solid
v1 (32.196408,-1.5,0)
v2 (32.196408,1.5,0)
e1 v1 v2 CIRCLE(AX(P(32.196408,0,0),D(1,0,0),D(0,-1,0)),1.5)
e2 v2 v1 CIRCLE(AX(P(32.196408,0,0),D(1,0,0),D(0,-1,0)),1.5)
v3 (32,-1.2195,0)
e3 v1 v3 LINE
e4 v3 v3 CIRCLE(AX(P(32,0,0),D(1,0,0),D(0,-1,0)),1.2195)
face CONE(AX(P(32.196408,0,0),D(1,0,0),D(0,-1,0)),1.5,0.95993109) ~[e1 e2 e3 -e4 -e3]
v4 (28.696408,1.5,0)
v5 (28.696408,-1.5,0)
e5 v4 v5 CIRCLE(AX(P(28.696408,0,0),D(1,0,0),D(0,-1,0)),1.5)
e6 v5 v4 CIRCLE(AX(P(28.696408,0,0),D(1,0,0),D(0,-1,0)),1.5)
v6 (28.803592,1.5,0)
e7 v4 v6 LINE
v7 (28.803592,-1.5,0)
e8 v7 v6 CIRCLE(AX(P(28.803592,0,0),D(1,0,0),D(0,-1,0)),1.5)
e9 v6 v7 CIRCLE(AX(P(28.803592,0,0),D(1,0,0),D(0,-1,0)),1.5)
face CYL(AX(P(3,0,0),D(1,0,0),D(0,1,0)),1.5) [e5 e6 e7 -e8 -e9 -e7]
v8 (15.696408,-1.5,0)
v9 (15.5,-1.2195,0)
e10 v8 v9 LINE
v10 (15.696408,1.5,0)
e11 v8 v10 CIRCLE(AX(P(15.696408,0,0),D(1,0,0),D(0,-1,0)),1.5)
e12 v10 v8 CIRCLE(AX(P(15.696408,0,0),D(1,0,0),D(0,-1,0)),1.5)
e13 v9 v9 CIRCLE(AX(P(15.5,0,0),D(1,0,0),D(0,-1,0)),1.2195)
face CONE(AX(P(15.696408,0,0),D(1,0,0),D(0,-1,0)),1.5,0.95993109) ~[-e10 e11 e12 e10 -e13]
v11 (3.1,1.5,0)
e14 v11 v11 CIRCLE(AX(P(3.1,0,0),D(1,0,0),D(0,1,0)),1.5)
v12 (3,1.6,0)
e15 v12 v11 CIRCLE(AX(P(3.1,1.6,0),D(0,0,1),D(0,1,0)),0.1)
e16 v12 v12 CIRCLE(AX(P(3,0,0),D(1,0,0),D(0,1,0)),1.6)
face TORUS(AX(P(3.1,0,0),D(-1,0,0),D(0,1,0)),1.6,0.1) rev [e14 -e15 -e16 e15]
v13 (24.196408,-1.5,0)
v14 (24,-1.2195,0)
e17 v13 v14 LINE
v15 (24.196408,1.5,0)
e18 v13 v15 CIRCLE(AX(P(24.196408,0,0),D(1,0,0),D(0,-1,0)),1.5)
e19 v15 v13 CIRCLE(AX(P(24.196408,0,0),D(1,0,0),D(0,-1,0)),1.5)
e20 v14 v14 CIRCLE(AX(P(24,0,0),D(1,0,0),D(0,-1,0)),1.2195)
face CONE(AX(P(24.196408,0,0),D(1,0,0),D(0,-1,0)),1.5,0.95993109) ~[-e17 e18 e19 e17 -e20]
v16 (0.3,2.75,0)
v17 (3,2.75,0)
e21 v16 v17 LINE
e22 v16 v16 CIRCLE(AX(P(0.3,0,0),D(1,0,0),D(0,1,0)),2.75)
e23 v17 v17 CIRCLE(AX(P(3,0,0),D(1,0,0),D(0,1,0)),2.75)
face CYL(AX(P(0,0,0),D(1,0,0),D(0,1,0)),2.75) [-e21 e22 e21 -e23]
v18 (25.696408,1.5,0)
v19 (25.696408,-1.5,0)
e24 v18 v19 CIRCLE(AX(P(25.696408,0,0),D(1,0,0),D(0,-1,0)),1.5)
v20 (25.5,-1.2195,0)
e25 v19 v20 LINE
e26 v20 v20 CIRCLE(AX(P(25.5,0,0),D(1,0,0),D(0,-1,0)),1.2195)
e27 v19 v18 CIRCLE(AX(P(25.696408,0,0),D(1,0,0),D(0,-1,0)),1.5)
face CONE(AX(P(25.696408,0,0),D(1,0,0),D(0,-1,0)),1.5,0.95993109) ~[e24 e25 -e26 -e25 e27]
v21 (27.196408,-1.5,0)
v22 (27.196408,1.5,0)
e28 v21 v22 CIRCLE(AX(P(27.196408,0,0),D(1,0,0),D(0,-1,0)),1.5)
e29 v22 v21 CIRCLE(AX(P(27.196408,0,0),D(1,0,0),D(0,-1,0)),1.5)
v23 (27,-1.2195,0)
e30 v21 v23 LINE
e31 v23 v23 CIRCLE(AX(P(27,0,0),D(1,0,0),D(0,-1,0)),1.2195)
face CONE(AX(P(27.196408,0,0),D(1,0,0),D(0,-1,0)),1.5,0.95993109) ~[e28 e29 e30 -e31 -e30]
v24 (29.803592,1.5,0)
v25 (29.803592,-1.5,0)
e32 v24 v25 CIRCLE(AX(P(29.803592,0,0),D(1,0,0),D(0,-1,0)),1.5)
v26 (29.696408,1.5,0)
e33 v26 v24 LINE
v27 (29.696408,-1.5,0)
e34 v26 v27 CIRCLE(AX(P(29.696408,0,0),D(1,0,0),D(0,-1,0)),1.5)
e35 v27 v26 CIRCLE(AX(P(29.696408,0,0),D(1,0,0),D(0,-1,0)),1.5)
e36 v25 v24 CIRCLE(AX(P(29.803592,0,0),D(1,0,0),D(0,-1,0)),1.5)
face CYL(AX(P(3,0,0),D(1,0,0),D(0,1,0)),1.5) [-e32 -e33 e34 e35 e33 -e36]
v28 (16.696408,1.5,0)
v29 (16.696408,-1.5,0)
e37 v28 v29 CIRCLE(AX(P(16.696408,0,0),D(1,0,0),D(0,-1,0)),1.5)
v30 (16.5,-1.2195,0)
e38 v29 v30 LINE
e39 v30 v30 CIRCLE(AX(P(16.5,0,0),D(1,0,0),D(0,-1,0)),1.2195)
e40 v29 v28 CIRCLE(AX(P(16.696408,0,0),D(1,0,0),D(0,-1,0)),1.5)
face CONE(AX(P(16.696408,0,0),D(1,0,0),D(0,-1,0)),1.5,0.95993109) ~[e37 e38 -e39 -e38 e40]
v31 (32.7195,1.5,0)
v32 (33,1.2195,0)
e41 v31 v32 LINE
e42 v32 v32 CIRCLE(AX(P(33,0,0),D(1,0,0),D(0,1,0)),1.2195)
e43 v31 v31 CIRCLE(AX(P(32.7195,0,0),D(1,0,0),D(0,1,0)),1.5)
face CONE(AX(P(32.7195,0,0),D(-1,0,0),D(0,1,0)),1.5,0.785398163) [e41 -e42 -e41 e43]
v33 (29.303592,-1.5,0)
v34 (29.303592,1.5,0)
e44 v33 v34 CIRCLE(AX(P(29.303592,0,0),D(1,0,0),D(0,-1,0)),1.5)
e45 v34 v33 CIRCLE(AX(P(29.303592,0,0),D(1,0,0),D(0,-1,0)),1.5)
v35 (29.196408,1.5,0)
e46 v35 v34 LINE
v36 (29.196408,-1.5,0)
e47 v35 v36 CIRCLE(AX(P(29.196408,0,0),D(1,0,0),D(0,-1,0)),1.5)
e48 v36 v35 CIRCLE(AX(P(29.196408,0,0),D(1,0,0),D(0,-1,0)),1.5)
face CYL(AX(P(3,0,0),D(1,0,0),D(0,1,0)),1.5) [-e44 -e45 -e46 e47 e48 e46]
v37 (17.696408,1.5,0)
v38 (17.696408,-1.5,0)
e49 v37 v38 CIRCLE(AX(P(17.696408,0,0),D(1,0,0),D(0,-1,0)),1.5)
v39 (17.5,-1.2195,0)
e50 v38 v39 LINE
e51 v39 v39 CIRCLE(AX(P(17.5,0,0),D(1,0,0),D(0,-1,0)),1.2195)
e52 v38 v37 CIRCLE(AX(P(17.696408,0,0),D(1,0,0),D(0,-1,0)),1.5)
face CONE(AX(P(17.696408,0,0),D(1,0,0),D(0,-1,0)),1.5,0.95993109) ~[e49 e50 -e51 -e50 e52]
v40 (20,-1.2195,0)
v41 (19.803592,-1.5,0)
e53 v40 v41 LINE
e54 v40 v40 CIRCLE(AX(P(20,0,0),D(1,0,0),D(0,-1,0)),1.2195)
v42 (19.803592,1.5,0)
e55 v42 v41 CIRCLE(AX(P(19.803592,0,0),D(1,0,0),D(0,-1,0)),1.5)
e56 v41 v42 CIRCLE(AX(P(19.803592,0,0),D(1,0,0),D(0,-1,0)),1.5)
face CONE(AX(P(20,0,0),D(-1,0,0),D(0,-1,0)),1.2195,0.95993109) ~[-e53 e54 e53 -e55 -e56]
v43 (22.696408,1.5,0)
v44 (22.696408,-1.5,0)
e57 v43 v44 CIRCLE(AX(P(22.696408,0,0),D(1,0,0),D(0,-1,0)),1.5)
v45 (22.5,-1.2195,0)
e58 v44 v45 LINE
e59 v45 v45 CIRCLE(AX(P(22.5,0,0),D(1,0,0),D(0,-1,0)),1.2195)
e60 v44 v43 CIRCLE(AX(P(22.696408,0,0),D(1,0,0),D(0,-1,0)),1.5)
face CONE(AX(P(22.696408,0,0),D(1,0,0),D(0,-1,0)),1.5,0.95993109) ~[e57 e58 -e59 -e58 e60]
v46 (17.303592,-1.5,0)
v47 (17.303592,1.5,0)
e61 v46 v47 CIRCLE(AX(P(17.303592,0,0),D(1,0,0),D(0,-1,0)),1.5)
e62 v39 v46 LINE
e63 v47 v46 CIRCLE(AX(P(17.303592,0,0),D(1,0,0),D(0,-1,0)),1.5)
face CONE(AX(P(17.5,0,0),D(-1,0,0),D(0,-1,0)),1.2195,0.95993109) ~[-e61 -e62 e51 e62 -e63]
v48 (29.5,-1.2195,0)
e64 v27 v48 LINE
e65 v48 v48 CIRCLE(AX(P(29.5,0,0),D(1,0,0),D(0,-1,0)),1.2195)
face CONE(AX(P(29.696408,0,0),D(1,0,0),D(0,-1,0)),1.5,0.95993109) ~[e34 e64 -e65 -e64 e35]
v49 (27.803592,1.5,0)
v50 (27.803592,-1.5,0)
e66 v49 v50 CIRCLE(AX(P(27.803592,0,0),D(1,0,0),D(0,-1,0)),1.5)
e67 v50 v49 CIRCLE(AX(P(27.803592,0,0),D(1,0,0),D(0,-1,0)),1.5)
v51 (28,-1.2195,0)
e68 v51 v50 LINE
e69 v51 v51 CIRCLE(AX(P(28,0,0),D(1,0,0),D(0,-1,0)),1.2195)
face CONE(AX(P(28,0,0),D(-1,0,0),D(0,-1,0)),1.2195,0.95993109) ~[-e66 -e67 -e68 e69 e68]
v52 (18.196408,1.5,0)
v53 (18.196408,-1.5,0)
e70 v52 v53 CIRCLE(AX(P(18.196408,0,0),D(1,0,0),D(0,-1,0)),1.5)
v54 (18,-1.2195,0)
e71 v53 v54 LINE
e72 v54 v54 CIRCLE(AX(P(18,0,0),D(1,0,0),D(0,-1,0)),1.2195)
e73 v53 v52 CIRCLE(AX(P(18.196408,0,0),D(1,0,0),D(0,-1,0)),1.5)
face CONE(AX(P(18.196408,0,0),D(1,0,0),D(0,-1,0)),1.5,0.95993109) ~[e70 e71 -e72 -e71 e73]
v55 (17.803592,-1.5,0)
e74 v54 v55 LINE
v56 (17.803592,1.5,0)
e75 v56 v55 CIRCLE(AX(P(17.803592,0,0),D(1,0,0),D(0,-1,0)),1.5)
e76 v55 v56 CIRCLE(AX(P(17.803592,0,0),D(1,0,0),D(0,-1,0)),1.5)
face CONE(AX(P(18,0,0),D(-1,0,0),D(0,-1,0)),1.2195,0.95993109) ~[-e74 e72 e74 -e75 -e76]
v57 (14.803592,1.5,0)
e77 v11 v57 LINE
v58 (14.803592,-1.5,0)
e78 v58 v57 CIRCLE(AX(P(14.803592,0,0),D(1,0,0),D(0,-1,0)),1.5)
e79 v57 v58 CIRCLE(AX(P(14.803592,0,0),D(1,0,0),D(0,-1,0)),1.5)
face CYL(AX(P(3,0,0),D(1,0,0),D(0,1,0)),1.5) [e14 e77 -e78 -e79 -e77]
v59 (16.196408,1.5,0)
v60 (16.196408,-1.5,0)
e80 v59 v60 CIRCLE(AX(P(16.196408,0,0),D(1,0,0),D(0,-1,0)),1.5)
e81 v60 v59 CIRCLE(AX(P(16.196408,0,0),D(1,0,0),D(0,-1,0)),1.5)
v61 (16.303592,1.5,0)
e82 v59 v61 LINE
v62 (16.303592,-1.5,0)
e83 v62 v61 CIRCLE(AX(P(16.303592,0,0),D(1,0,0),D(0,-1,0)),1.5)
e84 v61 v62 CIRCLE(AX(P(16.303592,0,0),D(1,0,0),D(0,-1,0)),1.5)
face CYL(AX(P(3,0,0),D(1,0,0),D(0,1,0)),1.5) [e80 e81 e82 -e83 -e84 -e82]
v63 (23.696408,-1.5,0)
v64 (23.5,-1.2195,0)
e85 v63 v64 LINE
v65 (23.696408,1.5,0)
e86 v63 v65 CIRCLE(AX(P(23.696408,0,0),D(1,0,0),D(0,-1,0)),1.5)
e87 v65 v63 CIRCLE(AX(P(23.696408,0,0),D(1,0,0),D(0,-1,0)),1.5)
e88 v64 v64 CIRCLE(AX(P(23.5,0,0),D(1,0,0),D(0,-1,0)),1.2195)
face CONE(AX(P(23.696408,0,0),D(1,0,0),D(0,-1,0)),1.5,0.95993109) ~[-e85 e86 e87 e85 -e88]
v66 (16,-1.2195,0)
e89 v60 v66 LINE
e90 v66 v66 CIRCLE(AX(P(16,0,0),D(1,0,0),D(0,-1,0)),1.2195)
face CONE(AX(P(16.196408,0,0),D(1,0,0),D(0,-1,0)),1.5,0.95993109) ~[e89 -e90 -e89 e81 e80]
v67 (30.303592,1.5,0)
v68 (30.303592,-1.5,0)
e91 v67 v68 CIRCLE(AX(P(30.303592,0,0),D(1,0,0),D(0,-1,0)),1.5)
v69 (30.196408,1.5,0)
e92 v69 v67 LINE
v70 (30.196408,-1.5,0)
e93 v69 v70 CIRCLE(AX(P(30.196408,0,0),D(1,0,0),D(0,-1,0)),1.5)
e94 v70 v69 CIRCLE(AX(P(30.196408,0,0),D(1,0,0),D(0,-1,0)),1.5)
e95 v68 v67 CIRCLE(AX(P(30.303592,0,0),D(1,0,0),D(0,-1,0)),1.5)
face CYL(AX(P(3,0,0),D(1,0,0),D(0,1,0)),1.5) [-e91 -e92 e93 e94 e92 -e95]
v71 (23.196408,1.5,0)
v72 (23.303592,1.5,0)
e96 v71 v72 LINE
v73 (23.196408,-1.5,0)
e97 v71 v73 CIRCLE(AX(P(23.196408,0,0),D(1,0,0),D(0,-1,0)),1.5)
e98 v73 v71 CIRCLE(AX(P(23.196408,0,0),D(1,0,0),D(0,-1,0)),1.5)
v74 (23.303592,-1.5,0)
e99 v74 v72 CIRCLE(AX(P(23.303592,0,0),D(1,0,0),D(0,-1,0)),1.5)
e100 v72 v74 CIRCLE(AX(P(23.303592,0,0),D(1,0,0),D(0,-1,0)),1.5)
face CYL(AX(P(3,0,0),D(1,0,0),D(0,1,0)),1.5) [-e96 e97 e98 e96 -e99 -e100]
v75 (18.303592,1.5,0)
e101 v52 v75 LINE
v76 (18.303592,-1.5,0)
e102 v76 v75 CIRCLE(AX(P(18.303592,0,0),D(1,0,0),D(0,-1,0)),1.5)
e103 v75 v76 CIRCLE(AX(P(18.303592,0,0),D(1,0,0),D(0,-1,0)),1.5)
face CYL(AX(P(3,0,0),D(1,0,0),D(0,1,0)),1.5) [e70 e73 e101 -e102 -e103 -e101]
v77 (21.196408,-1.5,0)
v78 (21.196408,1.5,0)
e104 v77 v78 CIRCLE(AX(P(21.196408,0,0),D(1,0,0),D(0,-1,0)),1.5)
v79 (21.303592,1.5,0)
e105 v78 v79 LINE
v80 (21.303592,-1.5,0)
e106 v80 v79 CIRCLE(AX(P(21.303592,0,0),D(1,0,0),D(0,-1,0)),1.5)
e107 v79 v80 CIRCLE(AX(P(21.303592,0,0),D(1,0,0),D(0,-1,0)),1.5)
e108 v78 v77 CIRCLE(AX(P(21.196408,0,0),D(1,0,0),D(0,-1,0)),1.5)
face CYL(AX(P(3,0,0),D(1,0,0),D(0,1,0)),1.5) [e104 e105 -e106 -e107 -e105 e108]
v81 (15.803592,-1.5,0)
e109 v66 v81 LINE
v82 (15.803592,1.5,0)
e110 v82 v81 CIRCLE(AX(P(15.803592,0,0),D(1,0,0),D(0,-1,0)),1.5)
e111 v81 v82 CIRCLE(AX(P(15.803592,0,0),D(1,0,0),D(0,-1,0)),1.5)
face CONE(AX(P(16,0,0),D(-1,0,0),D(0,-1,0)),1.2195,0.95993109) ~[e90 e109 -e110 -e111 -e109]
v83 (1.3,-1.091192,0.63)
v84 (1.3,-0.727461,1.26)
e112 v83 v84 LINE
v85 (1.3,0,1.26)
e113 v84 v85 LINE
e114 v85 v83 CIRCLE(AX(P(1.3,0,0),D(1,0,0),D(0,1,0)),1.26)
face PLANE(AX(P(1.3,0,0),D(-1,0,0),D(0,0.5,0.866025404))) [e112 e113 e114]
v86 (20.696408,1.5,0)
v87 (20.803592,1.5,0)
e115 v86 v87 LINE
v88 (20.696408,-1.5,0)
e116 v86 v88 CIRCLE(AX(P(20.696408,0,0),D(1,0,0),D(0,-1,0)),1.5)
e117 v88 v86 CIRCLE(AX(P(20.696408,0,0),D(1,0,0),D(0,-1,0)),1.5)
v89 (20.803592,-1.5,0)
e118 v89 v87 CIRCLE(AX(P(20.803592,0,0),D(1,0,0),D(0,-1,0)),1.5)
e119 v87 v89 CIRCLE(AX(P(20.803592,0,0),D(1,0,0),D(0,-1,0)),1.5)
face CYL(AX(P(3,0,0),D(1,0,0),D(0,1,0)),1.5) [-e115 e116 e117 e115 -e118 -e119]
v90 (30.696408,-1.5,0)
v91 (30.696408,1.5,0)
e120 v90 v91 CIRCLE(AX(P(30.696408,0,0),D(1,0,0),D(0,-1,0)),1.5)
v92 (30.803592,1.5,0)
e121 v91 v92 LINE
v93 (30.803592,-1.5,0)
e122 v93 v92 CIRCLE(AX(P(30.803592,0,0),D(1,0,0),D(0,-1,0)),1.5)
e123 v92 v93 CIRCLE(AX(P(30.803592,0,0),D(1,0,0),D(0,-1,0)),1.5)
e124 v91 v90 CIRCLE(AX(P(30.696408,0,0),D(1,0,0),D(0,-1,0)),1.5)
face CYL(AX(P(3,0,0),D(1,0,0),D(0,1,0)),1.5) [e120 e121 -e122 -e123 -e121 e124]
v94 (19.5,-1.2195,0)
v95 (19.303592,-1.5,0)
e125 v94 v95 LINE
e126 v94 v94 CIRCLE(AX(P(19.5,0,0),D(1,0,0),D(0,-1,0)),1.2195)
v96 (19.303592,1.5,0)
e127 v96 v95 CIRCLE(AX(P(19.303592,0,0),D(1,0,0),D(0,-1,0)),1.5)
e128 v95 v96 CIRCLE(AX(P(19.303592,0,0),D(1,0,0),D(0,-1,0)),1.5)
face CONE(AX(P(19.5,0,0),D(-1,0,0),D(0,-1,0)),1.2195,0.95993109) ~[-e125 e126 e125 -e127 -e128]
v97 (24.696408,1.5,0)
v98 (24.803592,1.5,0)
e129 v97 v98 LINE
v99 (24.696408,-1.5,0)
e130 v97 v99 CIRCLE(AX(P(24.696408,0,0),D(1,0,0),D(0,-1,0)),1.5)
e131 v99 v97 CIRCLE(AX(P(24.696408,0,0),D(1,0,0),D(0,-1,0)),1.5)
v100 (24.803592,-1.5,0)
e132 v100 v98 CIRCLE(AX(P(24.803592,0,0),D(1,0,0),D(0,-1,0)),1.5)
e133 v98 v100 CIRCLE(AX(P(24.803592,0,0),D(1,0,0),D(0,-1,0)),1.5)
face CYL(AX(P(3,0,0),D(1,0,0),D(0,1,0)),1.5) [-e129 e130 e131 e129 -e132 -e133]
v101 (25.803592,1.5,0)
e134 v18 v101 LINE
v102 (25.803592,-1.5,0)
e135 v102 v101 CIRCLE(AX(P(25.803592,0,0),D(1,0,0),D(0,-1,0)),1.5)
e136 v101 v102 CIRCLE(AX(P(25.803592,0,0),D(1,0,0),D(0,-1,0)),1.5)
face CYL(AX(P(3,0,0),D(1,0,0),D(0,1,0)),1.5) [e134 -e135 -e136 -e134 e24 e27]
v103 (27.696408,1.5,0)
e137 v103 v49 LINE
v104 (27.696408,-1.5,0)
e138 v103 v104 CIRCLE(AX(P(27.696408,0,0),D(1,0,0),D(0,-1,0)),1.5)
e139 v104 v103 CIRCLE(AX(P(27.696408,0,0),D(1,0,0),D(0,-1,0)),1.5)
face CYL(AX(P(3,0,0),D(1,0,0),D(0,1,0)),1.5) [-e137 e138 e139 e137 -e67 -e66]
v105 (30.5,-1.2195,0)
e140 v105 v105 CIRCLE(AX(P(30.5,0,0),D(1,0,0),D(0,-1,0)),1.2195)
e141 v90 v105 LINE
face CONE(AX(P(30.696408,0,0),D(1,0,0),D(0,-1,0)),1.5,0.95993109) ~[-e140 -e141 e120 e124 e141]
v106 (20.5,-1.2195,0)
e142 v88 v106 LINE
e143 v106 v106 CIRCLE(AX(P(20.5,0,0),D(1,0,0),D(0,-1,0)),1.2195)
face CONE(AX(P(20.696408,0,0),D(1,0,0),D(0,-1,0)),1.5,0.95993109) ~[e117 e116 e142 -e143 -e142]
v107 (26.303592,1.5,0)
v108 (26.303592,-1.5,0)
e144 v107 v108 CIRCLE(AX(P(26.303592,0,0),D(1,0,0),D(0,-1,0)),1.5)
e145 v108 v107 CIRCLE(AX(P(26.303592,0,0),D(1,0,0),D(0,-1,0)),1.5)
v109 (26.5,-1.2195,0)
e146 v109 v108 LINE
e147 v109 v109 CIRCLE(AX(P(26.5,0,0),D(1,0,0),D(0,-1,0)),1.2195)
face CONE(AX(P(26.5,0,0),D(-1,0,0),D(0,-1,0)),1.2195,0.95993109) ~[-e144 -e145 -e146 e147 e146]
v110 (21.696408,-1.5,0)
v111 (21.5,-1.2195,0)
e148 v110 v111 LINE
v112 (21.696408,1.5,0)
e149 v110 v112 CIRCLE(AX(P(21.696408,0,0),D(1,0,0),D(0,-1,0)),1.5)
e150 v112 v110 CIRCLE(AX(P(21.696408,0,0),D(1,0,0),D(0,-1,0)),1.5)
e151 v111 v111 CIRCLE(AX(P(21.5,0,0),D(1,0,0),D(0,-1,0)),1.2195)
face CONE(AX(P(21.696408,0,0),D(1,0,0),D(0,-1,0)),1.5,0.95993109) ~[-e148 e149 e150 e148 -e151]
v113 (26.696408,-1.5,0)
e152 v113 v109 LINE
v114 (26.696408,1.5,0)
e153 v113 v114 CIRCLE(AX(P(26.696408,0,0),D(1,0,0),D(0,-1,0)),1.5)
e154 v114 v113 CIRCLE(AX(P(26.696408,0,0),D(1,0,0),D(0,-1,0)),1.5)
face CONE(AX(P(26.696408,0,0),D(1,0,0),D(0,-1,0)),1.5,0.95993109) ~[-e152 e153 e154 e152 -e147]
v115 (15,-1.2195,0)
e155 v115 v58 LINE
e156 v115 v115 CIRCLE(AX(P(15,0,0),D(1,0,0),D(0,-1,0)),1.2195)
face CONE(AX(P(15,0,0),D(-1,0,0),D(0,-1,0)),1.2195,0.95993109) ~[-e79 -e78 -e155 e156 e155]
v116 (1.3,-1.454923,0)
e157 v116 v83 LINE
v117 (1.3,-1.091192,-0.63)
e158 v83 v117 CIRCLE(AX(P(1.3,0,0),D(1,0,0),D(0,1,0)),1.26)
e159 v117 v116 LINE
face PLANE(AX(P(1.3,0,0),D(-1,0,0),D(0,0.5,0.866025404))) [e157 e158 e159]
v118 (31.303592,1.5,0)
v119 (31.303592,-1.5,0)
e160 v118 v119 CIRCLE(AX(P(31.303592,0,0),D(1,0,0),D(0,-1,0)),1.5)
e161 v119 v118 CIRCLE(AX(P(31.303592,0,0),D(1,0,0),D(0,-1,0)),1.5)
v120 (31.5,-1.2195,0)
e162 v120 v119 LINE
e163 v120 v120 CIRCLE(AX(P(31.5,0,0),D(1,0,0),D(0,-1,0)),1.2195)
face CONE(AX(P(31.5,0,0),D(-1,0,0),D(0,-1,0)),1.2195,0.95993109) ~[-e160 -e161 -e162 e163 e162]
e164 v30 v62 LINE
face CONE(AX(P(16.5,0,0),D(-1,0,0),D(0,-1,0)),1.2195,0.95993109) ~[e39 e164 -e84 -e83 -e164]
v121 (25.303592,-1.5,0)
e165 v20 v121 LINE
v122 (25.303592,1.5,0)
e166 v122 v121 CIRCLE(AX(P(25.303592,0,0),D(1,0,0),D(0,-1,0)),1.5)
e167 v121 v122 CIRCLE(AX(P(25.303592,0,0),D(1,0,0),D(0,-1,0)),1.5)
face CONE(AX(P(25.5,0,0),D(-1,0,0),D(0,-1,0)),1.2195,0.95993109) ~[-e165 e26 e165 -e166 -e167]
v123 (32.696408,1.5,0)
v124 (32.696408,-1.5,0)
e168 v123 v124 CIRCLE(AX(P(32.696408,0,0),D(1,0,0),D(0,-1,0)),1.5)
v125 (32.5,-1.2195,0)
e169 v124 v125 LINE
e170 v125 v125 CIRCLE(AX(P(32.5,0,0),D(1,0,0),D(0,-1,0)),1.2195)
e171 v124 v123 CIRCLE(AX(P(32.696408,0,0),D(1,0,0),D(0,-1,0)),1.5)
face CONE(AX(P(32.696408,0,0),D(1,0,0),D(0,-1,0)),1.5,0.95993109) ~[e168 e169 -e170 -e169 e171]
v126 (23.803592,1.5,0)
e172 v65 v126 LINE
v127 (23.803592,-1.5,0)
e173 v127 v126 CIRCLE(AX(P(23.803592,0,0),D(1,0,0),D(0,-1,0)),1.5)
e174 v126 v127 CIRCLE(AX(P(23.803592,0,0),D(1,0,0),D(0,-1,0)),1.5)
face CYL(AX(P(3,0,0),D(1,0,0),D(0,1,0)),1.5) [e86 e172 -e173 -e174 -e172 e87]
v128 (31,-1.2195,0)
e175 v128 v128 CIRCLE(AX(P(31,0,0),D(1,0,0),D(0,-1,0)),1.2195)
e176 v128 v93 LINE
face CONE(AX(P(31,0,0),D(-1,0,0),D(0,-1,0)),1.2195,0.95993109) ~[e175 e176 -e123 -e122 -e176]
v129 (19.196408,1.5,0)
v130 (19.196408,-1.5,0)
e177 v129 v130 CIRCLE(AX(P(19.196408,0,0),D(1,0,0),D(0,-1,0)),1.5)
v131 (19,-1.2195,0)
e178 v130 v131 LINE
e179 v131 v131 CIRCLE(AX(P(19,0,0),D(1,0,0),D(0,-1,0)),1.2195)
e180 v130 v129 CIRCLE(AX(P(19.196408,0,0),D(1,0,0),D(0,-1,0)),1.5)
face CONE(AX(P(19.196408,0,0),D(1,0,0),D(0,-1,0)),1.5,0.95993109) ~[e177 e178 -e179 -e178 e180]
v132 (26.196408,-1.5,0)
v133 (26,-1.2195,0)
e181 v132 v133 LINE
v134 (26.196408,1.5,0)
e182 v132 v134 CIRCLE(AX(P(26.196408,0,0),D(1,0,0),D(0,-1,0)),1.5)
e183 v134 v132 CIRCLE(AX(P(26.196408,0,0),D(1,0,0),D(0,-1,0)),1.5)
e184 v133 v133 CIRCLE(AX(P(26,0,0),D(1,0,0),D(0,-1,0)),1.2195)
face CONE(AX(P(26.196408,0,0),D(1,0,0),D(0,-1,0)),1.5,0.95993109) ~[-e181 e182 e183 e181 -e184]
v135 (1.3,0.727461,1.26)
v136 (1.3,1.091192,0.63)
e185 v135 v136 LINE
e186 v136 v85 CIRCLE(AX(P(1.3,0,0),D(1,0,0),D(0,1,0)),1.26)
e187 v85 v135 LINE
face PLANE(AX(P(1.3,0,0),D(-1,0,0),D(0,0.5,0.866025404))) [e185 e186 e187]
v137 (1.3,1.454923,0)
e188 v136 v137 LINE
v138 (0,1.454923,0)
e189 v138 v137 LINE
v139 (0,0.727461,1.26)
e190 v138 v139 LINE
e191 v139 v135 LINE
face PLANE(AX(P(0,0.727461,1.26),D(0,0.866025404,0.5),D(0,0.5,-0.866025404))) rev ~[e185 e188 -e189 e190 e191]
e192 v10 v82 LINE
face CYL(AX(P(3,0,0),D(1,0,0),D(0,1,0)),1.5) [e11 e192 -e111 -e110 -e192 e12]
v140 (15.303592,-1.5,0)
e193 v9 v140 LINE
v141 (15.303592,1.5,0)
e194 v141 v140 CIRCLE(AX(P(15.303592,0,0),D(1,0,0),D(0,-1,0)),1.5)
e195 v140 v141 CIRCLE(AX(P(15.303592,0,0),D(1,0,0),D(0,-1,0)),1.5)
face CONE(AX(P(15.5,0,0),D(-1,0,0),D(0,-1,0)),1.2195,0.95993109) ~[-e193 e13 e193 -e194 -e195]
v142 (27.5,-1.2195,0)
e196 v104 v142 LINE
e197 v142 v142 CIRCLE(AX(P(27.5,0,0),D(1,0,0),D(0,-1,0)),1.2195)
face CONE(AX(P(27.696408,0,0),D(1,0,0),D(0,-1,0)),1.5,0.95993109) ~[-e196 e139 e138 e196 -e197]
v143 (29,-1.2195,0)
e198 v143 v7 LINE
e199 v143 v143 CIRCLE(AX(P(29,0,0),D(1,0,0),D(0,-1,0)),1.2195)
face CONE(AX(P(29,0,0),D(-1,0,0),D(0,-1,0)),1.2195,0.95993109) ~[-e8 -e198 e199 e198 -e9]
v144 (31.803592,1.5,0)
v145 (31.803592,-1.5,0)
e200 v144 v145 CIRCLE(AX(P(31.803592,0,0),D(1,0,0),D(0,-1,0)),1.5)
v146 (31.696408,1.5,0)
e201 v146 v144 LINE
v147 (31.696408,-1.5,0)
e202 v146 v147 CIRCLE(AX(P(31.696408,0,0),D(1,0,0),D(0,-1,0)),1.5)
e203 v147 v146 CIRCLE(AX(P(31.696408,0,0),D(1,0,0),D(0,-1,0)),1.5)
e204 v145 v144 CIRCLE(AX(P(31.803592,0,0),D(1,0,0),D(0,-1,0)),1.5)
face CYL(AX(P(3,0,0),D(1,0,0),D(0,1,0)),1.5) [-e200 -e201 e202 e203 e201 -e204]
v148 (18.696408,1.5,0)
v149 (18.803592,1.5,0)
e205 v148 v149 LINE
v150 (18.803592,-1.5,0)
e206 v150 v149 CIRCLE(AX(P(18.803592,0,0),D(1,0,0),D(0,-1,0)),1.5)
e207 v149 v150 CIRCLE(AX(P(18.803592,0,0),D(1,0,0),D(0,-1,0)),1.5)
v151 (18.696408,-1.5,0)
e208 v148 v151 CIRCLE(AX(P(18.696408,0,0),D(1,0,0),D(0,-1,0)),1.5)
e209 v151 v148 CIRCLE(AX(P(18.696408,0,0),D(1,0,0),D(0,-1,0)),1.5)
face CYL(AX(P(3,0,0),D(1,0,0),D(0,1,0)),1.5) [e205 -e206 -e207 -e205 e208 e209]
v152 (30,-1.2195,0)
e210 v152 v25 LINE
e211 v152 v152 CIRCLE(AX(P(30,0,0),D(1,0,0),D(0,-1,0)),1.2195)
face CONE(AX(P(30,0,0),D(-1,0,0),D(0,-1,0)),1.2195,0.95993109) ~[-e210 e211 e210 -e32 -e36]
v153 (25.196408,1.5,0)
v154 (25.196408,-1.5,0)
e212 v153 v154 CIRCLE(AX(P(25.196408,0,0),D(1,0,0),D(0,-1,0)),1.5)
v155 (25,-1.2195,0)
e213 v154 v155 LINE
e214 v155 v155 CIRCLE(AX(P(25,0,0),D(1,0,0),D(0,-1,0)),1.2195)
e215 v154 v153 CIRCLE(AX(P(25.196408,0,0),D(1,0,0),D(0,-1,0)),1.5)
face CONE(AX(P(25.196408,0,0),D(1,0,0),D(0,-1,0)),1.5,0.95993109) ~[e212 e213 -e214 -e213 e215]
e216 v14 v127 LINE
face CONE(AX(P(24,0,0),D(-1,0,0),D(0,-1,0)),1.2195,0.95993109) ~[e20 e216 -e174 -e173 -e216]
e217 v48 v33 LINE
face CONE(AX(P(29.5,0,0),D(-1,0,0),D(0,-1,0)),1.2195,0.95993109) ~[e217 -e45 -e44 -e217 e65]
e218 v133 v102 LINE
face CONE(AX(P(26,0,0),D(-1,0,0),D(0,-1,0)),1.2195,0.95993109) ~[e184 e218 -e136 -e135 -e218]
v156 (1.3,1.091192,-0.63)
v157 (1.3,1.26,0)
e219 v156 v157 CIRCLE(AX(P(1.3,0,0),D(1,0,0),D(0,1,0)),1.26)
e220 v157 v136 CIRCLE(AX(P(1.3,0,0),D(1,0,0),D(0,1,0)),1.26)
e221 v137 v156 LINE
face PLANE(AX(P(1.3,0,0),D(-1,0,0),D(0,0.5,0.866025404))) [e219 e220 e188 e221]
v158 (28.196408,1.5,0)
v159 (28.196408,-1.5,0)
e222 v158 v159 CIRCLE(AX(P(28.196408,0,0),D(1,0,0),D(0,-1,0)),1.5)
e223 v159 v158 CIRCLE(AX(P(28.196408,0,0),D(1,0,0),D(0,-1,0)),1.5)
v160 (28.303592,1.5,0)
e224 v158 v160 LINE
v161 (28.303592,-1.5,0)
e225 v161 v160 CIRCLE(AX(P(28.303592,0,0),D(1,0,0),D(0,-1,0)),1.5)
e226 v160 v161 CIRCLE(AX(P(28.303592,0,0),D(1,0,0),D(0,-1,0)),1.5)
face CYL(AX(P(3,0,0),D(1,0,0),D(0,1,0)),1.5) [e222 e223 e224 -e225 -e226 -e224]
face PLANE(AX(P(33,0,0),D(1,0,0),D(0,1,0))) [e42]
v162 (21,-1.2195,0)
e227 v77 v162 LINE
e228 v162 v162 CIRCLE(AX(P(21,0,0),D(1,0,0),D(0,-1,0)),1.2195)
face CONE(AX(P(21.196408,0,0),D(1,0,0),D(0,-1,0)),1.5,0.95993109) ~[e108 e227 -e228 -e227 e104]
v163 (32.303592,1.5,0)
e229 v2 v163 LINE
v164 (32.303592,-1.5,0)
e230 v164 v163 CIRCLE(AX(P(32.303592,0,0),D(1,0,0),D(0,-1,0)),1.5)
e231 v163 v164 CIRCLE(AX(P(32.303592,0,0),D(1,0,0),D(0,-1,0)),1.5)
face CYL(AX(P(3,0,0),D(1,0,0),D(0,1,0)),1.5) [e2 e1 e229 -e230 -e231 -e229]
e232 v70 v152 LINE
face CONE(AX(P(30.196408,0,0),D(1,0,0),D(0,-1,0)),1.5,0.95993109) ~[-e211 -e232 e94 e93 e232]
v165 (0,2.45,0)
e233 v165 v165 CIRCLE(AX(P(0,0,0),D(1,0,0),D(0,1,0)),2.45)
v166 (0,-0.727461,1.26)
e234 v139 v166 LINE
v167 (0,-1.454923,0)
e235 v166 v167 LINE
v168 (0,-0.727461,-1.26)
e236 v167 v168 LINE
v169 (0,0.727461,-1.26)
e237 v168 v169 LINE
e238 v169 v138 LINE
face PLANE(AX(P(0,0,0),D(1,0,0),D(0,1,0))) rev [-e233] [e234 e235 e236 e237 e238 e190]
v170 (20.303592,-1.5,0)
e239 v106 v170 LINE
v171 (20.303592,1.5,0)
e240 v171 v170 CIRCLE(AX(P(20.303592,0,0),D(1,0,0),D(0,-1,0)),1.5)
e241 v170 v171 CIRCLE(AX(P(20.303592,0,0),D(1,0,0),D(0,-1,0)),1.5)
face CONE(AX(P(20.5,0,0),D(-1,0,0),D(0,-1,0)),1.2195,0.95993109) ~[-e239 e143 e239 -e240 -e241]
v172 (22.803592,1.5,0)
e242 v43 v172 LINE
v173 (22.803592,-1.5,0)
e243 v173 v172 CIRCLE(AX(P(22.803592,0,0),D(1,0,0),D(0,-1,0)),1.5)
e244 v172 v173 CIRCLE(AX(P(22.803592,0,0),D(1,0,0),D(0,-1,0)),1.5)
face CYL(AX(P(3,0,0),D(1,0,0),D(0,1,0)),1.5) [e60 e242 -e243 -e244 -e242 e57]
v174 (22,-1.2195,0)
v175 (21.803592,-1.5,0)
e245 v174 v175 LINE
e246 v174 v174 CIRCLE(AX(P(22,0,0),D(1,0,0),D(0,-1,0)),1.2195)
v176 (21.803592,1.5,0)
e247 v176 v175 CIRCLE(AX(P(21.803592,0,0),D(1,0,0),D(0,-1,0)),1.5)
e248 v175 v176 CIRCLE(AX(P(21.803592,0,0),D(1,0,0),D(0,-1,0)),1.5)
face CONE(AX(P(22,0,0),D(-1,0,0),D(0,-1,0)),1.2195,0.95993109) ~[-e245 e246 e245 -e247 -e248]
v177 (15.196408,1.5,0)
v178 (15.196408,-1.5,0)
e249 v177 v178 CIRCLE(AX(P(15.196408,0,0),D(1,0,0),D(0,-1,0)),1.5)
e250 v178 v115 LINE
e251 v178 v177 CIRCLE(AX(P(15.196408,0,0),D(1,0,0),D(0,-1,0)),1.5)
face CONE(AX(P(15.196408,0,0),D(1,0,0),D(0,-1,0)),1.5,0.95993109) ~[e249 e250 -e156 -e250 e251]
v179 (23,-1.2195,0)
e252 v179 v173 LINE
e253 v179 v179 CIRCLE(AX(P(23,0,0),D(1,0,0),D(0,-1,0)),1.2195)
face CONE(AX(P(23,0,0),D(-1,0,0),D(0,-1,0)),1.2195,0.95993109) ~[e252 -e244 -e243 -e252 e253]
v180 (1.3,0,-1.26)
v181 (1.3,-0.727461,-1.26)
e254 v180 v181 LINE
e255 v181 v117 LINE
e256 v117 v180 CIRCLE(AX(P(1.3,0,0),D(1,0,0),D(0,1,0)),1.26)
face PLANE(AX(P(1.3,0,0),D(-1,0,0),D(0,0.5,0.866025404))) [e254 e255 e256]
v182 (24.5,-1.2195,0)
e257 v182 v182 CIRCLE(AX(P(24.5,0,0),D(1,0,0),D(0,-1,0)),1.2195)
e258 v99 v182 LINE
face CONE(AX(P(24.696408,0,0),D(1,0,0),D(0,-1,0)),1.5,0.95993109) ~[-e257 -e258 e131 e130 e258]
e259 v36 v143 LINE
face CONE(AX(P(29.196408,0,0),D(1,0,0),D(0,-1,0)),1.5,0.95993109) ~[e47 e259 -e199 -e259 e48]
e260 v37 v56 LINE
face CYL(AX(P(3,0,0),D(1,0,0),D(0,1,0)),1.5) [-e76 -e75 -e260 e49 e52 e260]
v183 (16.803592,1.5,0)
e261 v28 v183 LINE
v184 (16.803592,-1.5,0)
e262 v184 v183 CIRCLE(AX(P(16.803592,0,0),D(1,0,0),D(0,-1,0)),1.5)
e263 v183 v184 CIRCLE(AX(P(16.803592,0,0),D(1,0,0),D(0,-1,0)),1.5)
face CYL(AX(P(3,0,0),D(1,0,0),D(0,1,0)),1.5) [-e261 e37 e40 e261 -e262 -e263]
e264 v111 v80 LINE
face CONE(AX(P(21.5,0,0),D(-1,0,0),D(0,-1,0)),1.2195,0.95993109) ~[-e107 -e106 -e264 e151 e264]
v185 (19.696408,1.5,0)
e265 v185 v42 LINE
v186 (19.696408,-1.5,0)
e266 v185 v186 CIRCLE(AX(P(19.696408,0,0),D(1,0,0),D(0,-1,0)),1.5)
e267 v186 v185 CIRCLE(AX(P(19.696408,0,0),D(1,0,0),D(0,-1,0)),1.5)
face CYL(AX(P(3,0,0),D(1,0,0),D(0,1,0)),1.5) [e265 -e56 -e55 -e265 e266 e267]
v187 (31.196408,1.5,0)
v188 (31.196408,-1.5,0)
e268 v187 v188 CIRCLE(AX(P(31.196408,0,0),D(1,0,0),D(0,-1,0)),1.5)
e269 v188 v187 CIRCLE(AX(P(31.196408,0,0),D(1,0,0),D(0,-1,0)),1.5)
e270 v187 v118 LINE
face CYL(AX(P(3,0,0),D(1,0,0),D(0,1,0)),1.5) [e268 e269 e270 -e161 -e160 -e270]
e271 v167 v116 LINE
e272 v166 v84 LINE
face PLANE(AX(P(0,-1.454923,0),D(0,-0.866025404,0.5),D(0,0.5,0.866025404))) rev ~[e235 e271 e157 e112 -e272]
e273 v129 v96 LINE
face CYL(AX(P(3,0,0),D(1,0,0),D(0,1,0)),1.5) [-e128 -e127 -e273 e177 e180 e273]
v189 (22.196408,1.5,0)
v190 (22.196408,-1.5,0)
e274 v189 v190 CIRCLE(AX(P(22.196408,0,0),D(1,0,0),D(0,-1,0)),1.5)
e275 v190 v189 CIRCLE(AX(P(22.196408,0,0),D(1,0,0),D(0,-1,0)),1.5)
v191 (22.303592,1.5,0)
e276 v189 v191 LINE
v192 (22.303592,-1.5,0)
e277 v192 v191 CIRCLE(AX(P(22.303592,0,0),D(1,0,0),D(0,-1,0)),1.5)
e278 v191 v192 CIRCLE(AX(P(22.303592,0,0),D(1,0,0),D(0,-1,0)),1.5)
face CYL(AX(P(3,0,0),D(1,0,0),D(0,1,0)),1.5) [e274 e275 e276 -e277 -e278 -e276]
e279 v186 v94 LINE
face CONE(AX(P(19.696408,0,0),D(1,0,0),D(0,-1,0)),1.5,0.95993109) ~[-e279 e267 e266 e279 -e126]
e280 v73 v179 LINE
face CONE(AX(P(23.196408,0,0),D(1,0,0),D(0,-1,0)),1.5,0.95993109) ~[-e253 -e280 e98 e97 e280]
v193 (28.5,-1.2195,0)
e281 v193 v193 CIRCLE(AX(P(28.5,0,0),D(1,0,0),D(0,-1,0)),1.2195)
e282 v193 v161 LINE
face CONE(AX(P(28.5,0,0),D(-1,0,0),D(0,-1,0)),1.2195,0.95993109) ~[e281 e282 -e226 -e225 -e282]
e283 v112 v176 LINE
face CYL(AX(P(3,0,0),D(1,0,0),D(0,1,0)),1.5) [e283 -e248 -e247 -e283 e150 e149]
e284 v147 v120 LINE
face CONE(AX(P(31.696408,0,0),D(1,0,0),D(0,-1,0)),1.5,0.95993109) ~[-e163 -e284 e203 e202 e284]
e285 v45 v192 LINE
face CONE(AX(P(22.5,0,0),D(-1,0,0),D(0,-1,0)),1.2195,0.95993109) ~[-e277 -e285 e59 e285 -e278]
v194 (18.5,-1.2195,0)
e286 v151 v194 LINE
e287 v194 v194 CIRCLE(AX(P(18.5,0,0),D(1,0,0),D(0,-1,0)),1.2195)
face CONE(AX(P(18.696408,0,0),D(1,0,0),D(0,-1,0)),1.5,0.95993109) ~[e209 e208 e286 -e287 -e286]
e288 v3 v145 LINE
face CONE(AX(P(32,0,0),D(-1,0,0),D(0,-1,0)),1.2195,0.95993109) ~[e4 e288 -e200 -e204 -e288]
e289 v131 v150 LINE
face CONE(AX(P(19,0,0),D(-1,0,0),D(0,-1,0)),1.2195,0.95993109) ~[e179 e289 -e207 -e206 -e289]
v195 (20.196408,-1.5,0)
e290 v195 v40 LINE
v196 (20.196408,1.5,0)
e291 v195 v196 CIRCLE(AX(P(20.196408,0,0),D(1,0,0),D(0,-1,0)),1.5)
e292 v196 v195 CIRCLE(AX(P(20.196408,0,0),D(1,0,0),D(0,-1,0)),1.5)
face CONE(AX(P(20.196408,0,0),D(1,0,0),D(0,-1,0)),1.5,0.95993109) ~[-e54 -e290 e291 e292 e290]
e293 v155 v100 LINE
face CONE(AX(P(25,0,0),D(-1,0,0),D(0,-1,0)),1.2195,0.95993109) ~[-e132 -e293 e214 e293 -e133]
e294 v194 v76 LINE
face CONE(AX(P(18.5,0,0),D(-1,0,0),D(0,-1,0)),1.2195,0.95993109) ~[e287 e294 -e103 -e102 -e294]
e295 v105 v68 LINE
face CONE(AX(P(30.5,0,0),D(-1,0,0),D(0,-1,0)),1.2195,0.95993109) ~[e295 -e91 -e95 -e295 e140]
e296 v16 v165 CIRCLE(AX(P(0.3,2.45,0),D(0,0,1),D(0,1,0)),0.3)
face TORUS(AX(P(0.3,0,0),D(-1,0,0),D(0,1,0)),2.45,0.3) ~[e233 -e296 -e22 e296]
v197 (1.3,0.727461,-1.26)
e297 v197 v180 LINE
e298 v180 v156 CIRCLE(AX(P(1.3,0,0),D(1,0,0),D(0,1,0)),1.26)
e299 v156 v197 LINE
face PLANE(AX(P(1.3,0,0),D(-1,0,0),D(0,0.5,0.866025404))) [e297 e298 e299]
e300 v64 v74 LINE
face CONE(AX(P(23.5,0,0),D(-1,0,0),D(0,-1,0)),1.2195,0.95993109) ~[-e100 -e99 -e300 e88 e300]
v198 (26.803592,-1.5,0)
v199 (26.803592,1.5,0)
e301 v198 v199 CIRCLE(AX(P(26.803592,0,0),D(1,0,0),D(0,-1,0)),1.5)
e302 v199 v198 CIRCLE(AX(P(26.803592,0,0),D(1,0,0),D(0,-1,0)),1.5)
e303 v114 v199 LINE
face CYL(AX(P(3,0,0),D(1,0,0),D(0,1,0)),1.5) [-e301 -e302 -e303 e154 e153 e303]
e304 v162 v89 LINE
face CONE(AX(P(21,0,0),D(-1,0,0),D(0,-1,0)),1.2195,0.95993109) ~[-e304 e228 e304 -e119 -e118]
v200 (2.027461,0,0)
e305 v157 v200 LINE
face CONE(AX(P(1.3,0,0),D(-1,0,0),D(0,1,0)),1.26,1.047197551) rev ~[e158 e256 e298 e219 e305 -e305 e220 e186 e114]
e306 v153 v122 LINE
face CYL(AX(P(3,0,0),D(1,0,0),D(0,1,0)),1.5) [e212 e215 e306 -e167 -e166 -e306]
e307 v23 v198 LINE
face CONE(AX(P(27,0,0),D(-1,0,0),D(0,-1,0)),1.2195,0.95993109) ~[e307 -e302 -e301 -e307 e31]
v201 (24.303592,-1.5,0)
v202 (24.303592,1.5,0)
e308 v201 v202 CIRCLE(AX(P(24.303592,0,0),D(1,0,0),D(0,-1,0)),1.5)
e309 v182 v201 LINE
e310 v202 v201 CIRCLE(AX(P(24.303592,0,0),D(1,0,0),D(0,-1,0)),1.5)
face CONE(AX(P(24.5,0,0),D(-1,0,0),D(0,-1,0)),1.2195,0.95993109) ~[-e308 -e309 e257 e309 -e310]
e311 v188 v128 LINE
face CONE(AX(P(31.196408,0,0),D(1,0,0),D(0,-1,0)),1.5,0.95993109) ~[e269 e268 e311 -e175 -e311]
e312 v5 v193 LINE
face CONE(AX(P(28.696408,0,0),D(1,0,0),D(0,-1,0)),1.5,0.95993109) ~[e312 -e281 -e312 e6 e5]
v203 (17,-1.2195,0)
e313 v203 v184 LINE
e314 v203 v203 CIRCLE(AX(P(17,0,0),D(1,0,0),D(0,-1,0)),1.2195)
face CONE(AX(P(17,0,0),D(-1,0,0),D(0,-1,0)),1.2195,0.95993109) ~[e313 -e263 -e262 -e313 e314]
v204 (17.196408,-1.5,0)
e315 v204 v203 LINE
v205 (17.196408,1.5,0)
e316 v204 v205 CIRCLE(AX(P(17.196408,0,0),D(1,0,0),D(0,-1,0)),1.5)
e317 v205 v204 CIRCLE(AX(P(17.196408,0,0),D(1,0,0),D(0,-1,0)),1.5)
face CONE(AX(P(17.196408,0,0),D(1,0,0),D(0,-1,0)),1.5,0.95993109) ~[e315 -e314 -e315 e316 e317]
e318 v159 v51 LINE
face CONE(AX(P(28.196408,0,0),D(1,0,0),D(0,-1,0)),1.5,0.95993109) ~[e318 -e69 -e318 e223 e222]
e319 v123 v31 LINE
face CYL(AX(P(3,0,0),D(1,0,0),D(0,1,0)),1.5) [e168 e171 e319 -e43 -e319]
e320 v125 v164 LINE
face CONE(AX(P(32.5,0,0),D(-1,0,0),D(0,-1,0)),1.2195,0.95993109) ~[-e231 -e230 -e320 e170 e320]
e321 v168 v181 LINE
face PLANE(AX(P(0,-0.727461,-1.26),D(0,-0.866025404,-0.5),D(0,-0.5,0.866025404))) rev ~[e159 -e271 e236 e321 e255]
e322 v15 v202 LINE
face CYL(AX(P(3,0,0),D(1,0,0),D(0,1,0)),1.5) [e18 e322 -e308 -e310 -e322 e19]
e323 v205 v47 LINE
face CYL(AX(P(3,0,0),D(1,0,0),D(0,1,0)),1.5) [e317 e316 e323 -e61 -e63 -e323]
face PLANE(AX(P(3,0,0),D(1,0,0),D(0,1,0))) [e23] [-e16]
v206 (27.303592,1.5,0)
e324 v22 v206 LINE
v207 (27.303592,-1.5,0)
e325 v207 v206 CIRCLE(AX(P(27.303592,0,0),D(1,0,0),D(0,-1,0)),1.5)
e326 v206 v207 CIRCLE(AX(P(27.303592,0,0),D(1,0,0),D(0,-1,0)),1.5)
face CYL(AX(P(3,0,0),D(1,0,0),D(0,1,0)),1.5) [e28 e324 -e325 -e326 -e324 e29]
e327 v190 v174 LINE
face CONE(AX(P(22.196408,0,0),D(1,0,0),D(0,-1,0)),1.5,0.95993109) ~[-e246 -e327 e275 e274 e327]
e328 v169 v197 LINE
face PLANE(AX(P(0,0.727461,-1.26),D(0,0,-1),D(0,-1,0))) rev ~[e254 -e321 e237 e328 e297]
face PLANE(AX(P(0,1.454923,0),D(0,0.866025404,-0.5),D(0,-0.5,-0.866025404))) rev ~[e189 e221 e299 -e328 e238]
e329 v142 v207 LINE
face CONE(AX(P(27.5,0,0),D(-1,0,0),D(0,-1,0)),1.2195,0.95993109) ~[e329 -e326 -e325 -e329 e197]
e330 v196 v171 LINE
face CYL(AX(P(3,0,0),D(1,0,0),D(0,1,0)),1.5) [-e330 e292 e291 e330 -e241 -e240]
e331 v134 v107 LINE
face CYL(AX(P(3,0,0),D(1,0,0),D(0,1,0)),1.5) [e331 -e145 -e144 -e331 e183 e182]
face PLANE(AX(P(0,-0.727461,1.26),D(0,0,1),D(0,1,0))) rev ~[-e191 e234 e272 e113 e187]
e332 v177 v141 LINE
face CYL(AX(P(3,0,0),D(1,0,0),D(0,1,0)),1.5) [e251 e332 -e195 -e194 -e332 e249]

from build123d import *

# Parameters (mm, degrees)
FILLET1_R       = 0.1
FILLET2_R       = 0.3
HEX_2_DEPTH     = 1.3
THDSCHPAT_COUNT = 36
THDSCHPAT_PITCH = 0.5


with BuildPart() as part:
    # BodySke → Base-Revolve (revolve)
    with BuildSketch(Plane.XY):
        Polygon((0, 0), (0, 2.75), (3, 2.75), (3, 1.5), (32.7195, 1.5), (33, 1.2195), (33, 0), align=None)
    revolve(axis=Axis((-31.75, 0, 0), (1, 0, 0)))

    # Fillet1
    fillet1_edges = [part.edges().sort_by_distance(p)[0] for p in [
        (3, -1.5, 0),
    ]]
    fillet(fillet1_edges, radius=FILLET1_R)

    # Fillet2
    fillet2_edges = [part.edges().sort_by_distance(p)[0] for p in [
        (0, -2.75, 0),
    ]]
    fillet(fillet2_edges, radius=FILLET2_R)

    # Sketch2 → Hex-PreBroach (revolve, cut)
    with BuildSketch(Plane.XY):
        Polygon((0, 1.26), (1.3, 1.26), (2.027461339, 0), (0, 0), align=None)
    revolve(axis=Axis((0, 0, 0), (1, 0, 0)), mode=Mode.SUBTRACT)

    # Sketch3 → Hex 2 (cut)
    with BuildSketch(Plane(origin=(0, 0, 0), x_dir=(0, 0.5, 0.866025404), z_dir=(-1, 0, 0))):
        Polygon((0.727461339, 1.26), (-0.727461339, 1.26), (-1.454922678, 0), (-0.727461339, -1.26), (0.727461339, -1.26), (1.454922678, 0), align=None)
    extrude(amount=-HEX_2_DEPTH, mode=Mode.SUBTRACT)

    # ThdSchSke → ThreadSchematic (revolve, cut)
    with BuildSketch(Plane.XY):
        Polygon((15, -1.2195), (14.803591786, -1.5), (14.803591786, -1.875), (15.196408214, -1.875), (15.196408214, -1.5), align=None)
    threadschematic = revolve(axis=Axis((-3.175, 0, 0), (1, 0, 0)), mode=Mode.SUBTRACT)

    # ThdSchPat: ThreadSchematic ×36
    with Locations(*[(i * THDSCHPAT_PITCH, 0, 0) for i in range(1, THDSCHPAT_COUNT)]):
        add(threadschematic, mode=Mode.SUBTRACT)


solid = part.part
